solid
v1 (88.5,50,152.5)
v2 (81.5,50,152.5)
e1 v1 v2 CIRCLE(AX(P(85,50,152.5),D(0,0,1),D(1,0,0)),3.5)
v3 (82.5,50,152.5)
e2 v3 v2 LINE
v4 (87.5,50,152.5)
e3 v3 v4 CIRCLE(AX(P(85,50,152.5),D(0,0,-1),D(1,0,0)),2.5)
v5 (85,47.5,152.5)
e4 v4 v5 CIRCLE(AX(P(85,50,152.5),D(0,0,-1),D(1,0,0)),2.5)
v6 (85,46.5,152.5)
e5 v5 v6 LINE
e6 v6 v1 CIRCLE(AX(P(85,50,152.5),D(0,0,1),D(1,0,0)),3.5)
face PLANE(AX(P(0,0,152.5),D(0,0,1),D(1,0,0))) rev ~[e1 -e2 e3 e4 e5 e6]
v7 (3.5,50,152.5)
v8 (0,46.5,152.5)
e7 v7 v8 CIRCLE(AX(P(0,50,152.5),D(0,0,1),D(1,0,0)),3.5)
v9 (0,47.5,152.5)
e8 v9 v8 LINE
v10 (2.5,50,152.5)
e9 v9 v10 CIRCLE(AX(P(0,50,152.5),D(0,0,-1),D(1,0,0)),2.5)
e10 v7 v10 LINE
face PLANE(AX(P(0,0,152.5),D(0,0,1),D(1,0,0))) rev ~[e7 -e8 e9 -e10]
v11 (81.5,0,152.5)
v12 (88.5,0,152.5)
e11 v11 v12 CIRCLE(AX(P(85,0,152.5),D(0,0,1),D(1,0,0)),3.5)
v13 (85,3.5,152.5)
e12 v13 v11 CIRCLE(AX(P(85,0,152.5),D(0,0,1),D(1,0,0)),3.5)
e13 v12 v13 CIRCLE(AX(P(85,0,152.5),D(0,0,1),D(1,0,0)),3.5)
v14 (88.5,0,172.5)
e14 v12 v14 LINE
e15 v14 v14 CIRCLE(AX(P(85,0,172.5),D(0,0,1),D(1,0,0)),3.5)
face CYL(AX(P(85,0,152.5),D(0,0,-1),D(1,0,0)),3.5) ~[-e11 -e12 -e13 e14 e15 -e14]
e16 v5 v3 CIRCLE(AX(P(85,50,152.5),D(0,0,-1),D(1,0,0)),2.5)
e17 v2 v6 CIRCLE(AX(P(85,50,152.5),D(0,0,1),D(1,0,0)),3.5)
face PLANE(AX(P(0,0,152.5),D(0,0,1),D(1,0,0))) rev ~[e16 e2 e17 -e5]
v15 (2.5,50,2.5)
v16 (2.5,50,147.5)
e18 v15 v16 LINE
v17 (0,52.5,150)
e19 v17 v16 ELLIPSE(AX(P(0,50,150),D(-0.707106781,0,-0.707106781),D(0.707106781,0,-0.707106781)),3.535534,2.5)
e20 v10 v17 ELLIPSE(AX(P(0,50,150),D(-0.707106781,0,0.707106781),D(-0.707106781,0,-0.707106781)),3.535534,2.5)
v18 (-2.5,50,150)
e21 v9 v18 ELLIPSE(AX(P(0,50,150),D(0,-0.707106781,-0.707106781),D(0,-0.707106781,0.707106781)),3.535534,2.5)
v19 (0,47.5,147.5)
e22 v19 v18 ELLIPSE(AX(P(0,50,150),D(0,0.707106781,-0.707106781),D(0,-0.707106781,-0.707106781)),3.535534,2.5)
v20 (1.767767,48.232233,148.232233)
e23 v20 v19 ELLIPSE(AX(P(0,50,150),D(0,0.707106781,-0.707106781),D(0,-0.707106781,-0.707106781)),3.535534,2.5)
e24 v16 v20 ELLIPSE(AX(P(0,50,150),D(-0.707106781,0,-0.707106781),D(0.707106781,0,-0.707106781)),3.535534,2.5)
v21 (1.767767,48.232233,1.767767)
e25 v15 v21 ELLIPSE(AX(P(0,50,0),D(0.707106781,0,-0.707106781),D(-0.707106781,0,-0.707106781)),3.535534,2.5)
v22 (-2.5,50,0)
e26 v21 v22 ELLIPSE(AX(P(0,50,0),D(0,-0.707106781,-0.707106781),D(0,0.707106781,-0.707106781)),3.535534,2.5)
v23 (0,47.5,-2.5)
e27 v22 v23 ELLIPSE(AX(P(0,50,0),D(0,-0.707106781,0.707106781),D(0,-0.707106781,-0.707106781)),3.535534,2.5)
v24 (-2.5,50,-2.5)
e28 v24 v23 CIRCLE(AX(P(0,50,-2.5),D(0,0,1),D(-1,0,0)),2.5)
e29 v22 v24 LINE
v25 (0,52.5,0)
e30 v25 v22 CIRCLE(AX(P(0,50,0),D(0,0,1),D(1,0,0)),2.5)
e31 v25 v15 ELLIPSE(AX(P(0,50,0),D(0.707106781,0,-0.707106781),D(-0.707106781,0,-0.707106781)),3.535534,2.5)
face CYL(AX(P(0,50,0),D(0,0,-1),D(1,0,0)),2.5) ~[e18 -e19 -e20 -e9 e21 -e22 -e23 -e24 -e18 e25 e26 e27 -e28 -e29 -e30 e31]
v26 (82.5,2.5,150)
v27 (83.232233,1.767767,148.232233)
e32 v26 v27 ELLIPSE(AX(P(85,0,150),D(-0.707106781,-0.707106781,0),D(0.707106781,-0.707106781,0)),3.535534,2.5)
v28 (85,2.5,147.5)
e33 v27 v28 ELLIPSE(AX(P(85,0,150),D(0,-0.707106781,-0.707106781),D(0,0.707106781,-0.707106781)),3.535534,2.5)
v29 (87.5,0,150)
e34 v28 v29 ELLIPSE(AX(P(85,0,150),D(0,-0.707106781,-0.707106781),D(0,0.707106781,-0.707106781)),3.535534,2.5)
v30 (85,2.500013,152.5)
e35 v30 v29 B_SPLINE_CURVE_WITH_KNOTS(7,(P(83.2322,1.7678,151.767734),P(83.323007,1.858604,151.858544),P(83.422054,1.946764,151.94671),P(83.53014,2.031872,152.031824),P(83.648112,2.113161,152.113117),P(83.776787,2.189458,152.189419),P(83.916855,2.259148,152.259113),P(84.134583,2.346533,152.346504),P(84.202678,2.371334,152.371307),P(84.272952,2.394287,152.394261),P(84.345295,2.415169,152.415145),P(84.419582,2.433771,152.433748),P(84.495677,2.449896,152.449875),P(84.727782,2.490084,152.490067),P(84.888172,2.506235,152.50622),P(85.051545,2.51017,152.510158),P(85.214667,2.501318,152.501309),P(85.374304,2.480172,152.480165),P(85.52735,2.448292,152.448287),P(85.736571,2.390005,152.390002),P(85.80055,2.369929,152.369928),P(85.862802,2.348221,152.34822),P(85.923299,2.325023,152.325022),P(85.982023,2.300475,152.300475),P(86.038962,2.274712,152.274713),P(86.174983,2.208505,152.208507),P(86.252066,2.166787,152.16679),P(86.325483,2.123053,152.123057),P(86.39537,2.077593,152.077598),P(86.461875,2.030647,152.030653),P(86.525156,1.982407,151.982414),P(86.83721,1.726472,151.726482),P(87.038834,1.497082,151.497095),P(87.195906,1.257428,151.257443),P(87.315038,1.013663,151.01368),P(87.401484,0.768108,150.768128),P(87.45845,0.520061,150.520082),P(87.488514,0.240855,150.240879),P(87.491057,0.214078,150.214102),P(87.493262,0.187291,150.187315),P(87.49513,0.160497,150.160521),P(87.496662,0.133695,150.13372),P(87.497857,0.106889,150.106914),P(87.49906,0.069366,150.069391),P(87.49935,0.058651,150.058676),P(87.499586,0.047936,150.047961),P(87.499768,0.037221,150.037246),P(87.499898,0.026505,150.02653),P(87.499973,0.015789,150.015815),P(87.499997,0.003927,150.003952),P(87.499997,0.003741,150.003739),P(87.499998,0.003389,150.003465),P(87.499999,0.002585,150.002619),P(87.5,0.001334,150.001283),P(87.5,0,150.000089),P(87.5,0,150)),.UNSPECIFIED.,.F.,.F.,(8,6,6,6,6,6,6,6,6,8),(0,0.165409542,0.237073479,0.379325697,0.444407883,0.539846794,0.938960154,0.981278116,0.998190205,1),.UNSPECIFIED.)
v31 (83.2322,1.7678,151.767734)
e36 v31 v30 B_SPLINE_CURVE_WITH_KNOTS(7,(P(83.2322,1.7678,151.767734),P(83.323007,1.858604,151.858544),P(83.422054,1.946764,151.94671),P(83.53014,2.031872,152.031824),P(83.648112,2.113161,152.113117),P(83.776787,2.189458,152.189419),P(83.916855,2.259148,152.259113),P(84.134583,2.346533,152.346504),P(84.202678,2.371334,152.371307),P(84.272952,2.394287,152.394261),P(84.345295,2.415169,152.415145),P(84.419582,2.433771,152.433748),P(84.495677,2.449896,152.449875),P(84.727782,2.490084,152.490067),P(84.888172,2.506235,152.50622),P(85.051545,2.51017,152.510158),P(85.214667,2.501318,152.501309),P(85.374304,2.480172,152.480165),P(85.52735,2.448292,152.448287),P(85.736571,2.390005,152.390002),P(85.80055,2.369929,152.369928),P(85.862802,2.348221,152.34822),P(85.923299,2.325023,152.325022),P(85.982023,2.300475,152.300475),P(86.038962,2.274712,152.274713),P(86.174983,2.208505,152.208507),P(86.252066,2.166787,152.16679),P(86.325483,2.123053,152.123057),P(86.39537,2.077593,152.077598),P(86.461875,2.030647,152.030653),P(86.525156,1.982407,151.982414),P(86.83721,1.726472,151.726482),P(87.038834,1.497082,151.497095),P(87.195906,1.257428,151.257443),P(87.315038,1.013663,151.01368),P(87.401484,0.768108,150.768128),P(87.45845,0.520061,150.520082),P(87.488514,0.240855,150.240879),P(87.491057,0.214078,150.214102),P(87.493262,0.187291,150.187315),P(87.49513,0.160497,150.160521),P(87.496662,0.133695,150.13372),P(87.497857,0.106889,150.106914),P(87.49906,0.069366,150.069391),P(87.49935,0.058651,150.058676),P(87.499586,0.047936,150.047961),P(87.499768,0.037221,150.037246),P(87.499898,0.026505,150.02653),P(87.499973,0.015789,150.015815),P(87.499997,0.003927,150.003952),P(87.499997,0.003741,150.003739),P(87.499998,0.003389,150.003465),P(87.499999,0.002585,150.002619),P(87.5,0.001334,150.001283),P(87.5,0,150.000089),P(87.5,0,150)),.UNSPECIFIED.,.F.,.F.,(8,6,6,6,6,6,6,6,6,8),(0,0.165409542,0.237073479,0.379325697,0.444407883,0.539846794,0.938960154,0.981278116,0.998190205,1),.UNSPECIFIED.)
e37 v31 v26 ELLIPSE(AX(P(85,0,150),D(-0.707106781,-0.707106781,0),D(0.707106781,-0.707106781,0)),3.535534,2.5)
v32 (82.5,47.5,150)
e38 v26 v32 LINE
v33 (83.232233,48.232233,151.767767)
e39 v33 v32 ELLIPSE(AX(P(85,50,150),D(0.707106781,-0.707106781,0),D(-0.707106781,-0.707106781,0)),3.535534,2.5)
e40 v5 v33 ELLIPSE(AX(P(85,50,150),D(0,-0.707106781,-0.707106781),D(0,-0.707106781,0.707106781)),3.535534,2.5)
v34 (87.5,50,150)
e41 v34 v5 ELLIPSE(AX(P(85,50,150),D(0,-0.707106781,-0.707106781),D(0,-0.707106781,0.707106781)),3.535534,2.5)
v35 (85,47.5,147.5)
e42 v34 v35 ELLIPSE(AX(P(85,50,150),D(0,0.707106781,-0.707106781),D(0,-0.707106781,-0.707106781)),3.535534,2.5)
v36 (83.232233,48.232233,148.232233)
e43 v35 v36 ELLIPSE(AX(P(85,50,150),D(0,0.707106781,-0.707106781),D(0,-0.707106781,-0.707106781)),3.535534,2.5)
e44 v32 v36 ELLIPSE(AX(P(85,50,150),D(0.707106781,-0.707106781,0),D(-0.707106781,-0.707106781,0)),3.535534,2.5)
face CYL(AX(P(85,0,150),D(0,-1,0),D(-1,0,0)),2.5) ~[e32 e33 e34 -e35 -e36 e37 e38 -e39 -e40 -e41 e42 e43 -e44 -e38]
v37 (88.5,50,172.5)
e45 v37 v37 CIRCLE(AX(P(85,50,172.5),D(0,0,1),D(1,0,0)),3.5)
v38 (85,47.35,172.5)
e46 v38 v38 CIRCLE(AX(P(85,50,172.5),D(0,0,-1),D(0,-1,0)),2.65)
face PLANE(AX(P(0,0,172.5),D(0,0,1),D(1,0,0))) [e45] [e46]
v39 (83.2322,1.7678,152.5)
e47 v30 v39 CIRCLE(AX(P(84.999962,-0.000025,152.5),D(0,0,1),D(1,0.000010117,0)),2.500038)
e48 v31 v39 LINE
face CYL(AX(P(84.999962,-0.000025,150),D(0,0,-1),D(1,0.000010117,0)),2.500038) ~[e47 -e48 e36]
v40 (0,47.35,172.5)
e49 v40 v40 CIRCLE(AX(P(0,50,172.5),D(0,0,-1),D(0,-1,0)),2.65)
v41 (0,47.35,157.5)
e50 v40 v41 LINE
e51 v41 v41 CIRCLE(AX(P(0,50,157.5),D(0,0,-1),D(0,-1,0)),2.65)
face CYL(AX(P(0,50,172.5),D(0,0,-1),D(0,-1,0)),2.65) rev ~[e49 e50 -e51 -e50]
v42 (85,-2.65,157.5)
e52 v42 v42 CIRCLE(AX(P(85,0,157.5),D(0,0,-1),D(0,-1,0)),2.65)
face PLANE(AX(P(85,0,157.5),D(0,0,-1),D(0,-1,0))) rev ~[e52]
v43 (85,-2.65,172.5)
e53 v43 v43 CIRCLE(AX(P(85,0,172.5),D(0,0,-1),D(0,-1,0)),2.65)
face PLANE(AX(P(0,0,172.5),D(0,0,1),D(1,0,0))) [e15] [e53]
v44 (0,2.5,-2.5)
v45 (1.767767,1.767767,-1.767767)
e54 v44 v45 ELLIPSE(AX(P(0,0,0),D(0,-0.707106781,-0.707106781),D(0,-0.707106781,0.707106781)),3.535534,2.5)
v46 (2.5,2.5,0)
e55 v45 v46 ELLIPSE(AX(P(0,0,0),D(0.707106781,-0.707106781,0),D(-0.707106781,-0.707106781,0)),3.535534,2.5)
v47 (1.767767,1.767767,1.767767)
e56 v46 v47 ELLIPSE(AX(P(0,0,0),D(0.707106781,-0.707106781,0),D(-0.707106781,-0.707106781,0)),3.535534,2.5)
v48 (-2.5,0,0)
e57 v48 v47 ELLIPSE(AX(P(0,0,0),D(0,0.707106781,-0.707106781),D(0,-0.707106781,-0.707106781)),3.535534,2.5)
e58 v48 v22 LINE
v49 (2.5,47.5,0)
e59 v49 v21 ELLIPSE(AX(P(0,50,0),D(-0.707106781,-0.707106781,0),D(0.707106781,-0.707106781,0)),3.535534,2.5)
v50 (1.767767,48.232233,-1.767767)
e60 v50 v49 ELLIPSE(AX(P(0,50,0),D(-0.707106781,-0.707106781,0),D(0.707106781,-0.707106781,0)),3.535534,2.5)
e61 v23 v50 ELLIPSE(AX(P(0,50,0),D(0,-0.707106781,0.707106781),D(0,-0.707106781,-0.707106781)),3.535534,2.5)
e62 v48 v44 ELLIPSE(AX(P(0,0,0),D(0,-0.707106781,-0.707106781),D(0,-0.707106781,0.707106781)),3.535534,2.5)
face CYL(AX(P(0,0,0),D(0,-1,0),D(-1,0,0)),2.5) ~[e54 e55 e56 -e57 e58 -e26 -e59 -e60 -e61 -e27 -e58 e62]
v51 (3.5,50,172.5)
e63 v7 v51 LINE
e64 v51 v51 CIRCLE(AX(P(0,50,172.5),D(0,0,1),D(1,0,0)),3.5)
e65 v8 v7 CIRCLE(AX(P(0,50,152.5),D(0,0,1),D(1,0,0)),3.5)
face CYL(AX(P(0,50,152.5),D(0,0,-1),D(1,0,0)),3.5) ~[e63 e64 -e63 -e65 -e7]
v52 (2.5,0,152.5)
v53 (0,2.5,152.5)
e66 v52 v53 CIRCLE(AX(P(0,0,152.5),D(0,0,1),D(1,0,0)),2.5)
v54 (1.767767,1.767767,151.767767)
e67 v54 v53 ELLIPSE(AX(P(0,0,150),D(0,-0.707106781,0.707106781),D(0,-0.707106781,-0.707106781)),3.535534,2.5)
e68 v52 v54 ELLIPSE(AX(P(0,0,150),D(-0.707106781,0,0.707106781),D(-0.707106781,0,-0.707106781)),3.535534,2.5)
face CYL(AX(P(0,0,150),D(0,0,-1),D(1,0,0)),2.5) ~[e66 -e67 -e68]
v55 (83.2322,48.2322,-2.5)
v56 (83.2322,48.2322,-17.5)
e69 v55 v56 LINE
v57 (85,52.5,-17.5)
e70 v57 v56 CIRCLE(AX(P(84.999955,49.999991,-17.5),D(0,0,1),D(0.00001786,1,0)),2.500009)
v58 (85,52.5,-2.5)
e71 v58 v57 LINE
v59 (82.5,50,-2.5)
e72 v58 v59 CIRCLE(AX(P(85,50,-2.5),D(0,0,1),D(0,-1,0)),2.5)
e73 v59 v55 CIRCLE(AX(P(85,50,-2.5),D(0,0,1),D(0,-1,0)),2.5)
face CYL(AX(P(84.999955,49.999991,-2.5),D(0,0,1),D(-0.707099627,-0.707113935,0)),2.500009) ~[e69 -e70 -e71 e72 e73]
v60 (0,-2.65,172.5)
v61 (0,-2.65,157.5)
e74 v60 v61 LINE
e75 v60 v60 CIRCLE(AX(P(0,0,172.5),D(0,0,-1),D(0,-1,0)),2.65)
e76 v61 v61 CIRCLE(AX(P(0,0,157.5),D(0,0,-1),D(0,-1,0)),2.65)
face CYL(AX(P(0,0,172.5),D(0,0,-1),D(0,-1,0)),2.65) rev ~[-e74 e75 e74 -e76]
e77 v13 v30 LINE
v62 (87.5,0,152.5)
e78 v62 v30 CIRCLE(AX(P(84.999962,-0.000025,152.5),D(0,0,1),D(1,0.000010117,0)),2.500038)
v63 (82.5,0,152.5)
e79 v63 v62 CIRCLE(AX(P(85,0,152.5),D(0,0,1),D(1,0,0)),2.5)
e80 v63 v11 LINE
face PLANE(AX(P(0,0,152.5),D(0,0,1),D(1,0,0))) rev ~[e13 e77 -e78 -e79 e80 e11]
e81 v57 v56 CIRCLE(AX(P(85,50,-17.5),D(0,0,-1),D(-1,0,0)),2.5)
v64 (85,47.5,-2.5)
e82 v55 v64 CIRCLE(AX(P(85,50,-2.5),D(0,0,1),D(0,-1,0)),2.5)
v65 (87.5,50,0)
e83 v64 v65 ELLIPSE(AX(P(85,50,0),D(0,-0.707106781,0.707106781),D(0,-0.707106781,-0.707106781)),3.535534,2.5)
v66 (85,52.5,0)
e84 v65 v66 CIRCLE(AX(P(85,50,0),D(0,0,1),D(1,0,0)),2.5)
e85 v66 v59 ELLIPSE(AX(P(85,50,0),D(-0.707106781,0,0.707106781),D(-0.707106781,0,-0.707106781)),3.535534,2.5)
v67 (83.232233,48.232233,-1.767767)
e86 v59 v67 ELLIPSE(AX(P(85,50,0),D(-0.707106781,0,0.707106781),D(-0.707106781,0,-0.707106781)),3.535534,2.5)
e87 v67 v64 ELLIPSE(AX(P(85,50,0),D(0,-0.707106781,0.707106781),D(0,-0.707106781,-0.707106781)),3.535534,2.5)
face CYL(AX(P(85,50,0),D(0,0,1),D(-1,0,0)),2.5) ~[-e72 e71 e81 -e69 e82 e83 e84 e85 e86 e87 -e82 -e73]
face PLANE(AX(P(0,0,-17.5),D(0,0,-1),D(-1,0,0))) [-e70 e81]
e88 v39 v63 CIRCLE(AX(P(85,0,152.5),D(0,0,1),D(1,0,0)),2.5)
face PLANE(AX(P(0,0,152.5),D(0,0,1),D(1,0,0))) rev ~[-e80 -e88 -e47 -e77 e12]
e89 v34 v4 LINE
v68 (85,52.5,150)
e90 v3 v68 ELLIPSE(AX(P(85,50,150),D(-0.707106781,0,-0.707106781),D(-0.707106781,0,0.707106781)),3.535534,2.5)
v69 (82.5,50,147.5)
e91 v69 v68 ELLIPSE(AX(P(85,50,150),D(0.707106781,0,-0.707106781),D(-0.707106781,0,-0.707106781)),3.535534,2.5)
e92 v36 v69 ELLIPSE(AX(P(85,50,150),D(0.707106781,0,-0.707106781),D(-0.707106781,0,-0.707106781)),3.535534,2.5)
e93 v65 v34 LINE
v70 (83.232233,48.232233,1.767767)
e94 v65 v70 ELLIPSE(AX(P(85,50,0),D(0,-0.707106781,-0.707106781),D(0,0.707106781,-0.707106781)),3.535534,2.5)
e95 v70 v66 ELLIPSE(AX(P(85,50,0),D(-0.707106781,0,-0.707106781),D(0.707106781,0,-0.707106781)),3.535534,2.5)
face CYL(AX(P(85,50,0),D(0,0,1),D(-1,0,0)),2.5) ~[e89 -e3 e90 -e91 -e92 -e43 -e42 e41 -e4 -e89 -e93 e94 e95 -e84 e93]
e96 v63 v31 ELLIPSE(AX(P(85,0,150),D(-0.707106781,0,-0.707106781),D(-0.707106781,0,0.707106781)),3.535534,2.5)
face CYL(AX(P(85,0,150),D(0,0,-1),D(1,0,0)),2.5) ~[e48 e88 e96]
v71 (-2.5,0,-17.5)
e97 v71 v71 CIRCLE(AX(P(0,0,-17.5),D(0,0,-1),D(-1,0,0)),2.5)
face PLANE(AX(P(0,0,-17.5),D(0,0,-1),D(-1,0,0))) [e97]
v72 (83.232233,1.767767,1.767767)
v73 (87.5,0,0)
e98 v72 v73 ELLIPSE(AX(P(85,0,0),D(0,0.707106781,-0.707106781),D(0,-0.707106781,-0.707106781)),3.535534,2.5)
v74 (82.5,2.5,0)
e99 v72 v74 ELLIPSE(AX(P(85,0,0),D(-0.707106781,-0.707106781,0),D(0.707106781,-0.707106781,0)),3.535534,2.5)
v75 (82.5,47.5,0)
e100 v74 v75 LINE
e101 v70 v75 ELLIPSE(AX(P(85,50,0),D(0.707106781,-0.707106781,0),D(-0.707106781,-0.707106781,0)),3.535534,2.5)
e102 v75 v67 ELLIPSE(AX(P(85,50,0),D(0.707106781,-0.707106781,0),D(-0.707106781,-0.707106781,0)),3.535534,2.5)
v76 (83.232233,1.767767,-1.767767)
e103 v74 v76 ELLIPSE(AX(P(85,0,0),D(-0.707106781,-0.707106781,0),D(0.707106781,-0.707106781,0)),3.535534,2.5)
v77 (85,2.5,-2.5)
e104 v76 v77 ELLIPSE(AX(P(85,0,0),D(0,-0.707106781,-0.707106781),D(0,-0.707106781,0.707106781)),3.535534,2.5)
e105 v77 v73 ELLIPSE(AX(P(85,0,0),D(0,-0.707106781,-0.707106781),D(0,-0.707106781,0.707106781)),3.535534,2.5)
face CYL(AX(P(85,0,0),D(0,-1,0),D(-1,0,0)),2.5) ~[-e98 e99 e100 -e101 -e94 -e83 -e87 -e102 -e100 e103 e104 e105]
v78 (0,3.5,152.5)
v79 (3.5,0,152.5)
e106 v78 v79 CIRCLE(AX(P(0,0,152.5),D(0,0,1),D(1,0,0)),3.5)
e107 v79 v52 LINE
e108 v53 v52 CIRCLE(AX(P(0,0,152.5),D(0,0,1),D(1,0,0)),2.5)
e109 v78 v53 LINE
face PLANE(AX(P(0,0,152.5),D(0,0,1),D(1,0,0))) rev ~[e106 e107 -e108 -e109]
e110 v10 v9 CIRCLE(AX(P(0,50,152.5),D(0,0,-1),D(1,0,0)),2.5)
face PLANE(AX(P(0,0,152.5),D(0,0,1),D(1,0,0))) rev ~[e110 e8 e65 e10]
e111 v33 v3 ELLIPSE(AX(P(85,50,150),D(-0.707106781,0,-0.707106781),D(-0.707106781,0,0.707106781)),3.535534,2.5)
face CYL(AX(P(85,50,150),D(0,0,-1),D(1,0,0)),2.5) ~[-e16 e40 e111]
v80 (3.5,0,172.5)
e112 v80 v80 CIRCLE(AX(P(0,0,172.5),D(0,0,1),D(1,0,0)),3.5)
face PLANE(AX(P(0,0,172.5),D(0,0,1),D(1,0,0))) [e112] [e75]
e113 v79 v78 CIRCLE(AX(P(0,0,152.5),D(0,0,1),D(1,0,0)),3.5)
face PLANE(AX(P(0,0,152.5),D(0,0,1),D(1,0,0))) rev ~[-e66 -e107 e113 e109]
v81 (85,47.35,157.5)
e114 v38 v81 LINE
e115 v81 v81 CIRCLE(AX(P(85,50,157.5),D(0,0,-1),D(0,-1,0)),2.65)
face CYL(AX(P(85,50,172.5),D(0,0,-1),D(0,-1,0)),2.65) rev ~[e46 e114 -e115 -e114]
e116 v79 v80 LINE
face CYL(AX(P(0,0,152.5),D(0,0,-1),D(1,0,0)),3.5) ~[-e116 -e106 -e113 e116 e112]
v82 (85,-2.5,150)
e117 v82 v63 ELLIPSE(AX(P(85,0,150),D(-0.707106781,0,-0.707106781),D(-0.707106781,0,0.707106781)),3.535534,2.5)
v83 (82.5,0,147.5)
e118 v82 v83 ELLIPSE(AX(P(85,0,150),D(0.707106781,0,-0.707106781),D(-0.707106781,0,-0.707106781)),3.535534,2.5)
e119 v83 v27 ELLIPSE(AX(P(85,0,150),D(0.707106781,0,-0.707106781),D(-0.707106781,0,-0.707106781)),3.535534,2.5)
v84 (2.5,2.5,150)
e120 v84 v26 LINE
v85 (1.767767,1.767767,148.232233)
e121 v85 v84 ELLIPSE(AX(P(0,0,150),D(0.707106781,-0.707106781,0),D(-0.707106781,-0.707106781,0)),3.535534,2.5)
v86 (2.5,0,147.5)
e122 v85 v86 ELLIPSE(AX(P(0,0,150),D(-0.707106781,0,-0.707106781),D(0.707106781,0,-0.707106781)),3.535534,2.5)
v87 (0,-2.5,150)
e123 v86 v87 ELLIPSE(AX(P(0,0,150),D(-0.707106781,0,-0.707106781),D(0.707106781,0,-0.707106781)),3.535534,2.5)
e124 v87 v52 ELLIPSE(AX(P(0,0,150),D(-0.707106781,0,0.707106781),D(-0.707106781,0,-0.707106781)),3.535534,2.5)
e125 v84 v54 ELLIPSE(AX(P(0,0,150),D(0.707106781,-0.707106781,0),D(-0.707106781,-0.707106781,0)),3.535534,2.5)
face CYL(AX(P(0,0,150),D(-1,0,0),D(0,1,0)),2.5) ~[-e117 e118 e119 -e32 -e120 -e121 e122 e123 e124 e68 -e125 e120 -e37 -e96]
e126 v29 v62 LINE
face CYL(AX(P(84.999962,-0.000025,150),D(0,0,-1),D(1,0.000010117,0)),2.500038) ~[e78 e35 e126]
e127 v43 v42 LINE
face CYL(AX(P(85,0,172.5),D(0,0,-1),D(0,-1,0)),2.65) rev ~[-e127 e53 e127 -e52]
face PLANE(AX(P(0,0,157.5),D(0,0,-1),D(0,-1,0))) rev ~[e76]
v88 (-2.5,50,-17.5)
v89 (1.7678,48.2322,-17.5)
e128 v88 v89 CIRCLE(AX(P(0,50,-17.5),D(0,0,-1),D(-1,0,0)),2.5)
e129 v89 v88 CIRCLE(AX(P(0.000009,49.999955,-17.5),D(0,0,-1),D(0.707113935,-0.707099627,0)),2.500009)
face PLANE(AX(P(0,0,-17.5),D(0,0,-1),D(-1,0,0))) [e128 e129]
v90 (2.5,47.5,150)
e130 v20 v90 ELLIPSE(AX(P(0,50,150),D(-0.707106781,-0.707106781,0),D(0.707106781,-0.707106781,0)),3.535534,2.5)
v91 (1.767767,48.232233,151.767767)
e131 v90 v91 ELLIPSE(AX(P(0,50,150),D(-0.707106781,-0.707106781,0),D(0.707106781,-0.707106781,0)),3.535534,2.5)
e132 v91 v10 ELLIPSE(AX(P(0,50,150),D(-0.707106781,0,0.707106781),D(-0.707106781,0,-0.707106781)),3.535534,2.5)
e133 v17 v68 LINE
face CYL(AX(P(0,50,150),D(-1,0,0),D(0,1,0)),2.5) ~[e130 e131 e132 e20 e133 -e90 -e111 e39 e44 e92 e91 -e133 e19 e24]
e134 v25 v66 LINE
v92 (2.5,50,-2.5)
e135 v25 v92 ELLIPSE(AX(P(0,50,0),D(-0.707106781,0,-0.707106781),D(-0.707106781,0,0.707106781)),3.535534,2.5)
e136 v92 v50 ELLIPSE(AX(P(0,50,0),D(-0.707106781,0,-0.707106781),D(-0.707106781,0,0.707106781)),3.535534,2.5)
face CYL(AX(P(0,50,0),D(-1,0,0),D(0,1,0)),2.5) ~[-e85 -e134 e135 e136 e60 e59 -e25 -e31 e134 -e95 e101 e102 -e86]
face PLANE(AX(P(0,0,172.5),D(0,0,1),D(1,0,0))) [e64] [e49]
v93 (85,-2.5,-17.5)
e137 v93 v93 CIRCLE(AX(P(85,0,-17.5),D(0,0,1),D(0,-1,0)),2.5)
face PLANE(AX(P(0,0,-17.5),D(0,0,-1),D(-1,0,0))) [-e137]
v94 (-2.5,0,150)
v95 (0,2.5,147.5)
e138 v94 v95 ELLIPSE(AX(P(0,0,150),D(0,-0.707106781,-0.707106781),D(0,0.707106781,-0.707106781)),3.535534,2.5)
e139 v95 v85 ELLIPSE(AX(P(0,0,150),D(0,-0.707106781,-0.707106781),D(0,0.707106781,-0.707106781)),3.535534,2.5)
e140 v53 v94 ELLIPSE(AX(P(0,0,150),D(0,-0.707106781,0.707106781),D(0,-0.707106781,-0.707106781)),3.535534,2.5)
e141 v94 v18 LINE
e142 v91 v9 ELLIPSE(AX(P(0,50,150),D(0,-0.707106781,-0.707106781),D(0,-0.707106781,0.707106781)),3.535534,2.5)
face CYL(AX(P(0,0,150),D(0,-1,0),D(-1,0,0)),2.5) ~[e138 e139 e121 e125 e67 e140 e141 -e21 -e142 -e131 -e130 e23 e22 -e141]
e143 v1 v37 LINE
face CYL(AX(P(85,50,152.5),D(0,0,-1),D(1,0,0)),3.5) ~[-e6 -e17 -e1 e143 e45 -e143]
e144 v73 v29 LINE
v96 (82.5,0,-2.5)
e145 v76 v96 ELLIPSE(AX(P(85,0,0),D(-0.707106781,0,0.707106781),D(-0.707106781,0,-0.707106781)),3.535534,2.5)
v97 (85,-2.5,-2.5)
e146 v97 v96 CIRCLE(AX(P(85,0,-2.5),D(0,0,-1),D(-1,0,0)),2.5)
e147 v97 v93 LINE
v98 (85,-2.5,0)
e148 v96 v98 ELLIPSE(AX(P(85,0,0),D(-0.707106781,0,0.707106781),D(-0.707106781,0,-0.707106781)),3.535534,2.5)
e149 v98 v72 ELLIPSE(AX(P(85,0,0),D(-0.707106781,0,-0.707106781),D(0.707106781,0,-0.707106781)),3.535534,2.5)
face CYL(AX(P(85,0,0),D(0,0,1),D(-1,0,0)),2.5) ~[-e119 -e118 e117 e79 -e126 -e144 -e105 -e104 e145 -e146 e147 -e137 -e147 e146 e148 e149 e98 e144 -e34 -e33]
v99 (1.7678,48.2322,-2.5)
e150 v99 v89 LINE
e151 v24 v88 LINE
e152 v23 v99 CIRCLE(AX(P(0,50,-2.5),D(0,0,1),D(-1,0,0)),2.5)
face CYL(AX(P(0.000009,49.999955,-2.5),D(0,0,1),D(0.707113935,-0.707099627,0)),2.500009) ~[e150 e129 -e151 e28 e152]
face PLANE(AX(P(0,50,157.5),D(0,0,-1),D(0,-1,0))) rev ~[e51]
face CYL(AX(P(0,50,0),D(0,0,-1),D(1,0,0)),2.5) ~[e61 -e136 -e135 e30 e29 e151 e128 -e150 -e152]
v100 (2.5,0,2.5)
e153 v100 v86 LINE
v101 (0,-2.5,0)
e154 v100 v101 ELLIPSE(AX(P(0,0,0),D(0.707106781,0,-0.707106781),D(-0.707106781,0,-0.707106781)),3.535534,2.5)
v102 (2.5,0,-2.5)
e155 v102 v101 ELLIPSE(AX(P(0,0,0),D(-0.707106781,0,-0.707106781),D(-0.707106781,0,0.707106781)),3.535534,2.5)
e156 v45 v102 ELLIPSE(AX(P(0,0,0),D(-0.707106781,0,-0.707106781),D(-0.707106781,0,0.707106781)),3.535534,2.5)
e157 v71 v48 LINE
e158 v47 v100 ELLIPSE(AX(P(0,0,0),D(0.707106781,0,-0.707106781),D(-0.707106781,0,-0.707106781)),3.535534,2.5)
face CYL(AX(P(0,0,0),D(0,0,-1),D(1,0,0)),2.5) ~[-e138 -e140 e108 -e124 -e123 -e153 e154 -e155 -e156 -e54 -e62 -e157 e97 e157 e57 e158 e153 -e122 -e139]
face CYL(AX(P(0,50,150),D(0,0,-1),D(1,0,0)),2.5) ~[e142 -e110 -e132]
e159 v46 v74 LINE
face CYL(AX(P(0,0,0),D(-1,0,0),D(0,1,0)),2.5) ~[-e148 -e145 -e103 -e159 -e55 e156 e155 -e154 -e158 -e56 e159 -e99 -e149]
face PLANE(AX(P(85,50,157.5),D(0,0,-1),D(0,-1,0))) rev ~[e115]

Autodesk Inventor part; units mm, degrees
ref_plane "YZ Plane" through (0, 0, 0) normal (1, 0, 0) x (0, 1, 0)
ref_plane "XZ Plane" through (0, 0, 0) normal (0, 1, 0) x (-1, 0, 0)
ref_plane "XY Plane" through (0, 0, 0) normal (0, 0, 1) x (1, 0, 0)
sketch "Sketch1" plane through (0, 0, 0) normal (0, 0, 1) x (1, 0, 0)
  line L0 (0, 0) -> (85, 0) construction
  line L1 (85, 0) -> (85, 50) construction
  line L2 (85, 50) -> (0, 50) construction
  line L3 (0, 50) -> (0, 0) construction
  circle A0 centre (0, 0) radius 2.5
  circle A1 centre (0, 50) radius 2.5
  circle A2 centre (85, 50) radius 2.5
  circle A3 centre (85, 0) radius 2.5
  dimension "d0" = 85
  dimension "d1" = 50
  dimension "d2" = 5
  dimension "d3" = 5
  dimension "d4" = 5
  dimension "d5" = 5
extrude "Length Beams" add sketch "Sketch1" along normal blind 150
sketch "Sketch2" plane through (0, 0, 0) normal (0, 1, 0) x (-1, 0, 0)
  circle A0 centre (0, 0) radius 2.5
  line L0 (-82.5, 0) -> (-87.5, 0) projected
  circle A1 centre (-85, 0) radius 2.5
  line L1 (2.5, 150) -> (-2.5, 150) projected
  circle A2 centre (0, 150) radius 2.5
  line L2 (-82.5, 150) -> (-87.5, 150) projected
  circle A3 centre (-85, 150) radius 2.5
  dimension "d8" = 5
  dimension "d9" = 5
  dimension "d10" = 5
  dimension "d11" = 5
extrude "Vertical Beam" add sketch "Sketch2" along normal blind 50
sketch "Sketch3" plane through (0, 0, 0) normal (1, 0, 0) x (0, 1, 0)
  circle A0 centre (50, 0) radius 2.5
  circle A1 centre (0, 0) radius 2.5
  circle A2 centre (0, 150) radius 2.5
  line L0 (50, 150) -> (50, 152.5) projected
  circle A3 centre (50, 150) radius 2.5
  dimension "d14" = 5
  dimension "d15" = 5
  dimension "d16" = 5
  dimension "d17" = 5
extrude "Width Beams" add sketch "Sketch3" along normal blind 85
sketch "Sketch4" plane through (0, 0, 150) normal (0, 0, 1) x (1, 0, 0)
  arc A0 (0, 52.5) -> (-2.5, 50) centre (0, 50) ccw projected
  circle A1 centre (0, 50) radius 2.5
  line L0 (82.5, 47.5) -> (85, 50) projected
  circle A2 centre (85, 50) radius 2.5
  arc A3 (87.5, 0) -> (83.2322, 1.7678) centre (85, 0) ccw projected
  circle A4 centre (85, 0) radius 2.5
  circle A5 centre (0, 0) radius 2.5
  point P0 (83.2322, 48.2322)
  point P1 (83.2322, 1.7678)
  dimension "d20" = 5
  dimension "d21" = 5
  dimension "d22" = 5
  dimension "d23" = 5
extrude "Female Flush" add sketch "Sketch4" along normal blind 2.5
sketch "Sketch7" plane through (0, 0, 0) normal (0, 0, -1) x (-1, 0, 0)
  circle A0 centre (0, 0) radius 2.5
  arc A1 (-2.5, 50) -> (0, 47.5) centre (0, 50) ccw projected
  circle A2 centre (0, 50) radius 2.5
  arc A3 (-85, 47.5) -> (-82.5, 50) centre (-85, 50) ccw projected
  circle A4 centre (-85, 50) radius 2.5
  circle A5 centre (-85, 0) radius 2.5
  dimension "d40" = 5
  dimension "d41" = 5
  dimension "d42" = 5
extrude "Male Flush" add sketch "Sketch7" along normal blind 2.5
sketch "Sketch9" plane through (0, 0, -2.5) normal (0, 0, -1) x (-1, 0, 0)
  circle A0 centre (0, 0) radius 2.5
  arc A1 (-1.7678, 48.2322) -> (2.5, 50) centre (0, 50) ccw projected
  circle A2 centre (0, 50) radius 2.5
  arc A3 (-83.2322, 48.2322) -> (-85, 52.5) centre (-85, 50) ccw projected
  circle A4 centre (-85, 50) radius 2.5
  arc A5 (-85, -2.5) -> (-82.5, 0) centre (-85, 0) ccw projected
  circle A6 centre (-85, 0) radius 2.5
  point P0 (2.5, 50)
  point P1 (-1.7678, 48.2322)
  point P2 (-85, 52.5)
  point P3 (-82.5, 0)
  point P4 (-85, -2.5)
  dimension "d45" = 5
  dimension "d46" = 5
  dimension "d47" = 5
  dimension "d48" = 5
extrude "Male Connect" add sketch "Sketch9" along normal blind 15
sketch "Sketch10" plane through (0, 0, 152.5) normal (0, 0, 1) x (1, 0, 0)
  arc A0 (0, 47.5) -> (1.7678, 48.2322) centre (0, 50) ccw projected
  circle A1 centre (0, 50) radius 3.5
  arc A2 (83.2322, 48.2322) -> (87.5, 50) centre (85, 50) ccw projected
  circle A3 centre (85, 50) radius 3.5
  circle A4 centre (0, 0) radius 3.5
  arc A5 (87.5, 0) -> (83.2322, 1.7678) centre (85, 0) ccw projected
  circle A6 centre (85, 0) radius 3.5
  dimension "d51" = 7
  dimension "d52" = 7
  dimension "d62" = 7
  dimension "d63" = 7
extrude "Female Connect Top" add sketch "Sketch10" along normal blind 20 contours A1 | A3
extrude "Extrusion9" add sketch "Sketch10" along normal blind 20 contours A4 | A6
sketch "Sketch12" plane through (0, 0, 172.5) normal (0, 0, 1) x (1, 0, 0)
  arc A0 (0, 47.5) -> (1.7678, 48.2322) centre (0, 50) ccw projected
  arc A1 (81.5, 50) -> (85, 46.5) centre (85, 50) ccw projected
  arc A2 (81.5, 0) -> (85, 3.5) centre (85, 0) ccw projected
  point P0 (0, 0)
  point P1 (0, 0)
hole "Hole3" at (0, 50, 172.5) at (85, 50, 172.5) at (85, 0, 172.5) at (0, 0, 172.5) direction (0, 0, -1) diameter 5.3 depth 15
equation "\"fitTol\" = 0.3"
properties part number "RCPlaneSkeletonMiddleBack2"
